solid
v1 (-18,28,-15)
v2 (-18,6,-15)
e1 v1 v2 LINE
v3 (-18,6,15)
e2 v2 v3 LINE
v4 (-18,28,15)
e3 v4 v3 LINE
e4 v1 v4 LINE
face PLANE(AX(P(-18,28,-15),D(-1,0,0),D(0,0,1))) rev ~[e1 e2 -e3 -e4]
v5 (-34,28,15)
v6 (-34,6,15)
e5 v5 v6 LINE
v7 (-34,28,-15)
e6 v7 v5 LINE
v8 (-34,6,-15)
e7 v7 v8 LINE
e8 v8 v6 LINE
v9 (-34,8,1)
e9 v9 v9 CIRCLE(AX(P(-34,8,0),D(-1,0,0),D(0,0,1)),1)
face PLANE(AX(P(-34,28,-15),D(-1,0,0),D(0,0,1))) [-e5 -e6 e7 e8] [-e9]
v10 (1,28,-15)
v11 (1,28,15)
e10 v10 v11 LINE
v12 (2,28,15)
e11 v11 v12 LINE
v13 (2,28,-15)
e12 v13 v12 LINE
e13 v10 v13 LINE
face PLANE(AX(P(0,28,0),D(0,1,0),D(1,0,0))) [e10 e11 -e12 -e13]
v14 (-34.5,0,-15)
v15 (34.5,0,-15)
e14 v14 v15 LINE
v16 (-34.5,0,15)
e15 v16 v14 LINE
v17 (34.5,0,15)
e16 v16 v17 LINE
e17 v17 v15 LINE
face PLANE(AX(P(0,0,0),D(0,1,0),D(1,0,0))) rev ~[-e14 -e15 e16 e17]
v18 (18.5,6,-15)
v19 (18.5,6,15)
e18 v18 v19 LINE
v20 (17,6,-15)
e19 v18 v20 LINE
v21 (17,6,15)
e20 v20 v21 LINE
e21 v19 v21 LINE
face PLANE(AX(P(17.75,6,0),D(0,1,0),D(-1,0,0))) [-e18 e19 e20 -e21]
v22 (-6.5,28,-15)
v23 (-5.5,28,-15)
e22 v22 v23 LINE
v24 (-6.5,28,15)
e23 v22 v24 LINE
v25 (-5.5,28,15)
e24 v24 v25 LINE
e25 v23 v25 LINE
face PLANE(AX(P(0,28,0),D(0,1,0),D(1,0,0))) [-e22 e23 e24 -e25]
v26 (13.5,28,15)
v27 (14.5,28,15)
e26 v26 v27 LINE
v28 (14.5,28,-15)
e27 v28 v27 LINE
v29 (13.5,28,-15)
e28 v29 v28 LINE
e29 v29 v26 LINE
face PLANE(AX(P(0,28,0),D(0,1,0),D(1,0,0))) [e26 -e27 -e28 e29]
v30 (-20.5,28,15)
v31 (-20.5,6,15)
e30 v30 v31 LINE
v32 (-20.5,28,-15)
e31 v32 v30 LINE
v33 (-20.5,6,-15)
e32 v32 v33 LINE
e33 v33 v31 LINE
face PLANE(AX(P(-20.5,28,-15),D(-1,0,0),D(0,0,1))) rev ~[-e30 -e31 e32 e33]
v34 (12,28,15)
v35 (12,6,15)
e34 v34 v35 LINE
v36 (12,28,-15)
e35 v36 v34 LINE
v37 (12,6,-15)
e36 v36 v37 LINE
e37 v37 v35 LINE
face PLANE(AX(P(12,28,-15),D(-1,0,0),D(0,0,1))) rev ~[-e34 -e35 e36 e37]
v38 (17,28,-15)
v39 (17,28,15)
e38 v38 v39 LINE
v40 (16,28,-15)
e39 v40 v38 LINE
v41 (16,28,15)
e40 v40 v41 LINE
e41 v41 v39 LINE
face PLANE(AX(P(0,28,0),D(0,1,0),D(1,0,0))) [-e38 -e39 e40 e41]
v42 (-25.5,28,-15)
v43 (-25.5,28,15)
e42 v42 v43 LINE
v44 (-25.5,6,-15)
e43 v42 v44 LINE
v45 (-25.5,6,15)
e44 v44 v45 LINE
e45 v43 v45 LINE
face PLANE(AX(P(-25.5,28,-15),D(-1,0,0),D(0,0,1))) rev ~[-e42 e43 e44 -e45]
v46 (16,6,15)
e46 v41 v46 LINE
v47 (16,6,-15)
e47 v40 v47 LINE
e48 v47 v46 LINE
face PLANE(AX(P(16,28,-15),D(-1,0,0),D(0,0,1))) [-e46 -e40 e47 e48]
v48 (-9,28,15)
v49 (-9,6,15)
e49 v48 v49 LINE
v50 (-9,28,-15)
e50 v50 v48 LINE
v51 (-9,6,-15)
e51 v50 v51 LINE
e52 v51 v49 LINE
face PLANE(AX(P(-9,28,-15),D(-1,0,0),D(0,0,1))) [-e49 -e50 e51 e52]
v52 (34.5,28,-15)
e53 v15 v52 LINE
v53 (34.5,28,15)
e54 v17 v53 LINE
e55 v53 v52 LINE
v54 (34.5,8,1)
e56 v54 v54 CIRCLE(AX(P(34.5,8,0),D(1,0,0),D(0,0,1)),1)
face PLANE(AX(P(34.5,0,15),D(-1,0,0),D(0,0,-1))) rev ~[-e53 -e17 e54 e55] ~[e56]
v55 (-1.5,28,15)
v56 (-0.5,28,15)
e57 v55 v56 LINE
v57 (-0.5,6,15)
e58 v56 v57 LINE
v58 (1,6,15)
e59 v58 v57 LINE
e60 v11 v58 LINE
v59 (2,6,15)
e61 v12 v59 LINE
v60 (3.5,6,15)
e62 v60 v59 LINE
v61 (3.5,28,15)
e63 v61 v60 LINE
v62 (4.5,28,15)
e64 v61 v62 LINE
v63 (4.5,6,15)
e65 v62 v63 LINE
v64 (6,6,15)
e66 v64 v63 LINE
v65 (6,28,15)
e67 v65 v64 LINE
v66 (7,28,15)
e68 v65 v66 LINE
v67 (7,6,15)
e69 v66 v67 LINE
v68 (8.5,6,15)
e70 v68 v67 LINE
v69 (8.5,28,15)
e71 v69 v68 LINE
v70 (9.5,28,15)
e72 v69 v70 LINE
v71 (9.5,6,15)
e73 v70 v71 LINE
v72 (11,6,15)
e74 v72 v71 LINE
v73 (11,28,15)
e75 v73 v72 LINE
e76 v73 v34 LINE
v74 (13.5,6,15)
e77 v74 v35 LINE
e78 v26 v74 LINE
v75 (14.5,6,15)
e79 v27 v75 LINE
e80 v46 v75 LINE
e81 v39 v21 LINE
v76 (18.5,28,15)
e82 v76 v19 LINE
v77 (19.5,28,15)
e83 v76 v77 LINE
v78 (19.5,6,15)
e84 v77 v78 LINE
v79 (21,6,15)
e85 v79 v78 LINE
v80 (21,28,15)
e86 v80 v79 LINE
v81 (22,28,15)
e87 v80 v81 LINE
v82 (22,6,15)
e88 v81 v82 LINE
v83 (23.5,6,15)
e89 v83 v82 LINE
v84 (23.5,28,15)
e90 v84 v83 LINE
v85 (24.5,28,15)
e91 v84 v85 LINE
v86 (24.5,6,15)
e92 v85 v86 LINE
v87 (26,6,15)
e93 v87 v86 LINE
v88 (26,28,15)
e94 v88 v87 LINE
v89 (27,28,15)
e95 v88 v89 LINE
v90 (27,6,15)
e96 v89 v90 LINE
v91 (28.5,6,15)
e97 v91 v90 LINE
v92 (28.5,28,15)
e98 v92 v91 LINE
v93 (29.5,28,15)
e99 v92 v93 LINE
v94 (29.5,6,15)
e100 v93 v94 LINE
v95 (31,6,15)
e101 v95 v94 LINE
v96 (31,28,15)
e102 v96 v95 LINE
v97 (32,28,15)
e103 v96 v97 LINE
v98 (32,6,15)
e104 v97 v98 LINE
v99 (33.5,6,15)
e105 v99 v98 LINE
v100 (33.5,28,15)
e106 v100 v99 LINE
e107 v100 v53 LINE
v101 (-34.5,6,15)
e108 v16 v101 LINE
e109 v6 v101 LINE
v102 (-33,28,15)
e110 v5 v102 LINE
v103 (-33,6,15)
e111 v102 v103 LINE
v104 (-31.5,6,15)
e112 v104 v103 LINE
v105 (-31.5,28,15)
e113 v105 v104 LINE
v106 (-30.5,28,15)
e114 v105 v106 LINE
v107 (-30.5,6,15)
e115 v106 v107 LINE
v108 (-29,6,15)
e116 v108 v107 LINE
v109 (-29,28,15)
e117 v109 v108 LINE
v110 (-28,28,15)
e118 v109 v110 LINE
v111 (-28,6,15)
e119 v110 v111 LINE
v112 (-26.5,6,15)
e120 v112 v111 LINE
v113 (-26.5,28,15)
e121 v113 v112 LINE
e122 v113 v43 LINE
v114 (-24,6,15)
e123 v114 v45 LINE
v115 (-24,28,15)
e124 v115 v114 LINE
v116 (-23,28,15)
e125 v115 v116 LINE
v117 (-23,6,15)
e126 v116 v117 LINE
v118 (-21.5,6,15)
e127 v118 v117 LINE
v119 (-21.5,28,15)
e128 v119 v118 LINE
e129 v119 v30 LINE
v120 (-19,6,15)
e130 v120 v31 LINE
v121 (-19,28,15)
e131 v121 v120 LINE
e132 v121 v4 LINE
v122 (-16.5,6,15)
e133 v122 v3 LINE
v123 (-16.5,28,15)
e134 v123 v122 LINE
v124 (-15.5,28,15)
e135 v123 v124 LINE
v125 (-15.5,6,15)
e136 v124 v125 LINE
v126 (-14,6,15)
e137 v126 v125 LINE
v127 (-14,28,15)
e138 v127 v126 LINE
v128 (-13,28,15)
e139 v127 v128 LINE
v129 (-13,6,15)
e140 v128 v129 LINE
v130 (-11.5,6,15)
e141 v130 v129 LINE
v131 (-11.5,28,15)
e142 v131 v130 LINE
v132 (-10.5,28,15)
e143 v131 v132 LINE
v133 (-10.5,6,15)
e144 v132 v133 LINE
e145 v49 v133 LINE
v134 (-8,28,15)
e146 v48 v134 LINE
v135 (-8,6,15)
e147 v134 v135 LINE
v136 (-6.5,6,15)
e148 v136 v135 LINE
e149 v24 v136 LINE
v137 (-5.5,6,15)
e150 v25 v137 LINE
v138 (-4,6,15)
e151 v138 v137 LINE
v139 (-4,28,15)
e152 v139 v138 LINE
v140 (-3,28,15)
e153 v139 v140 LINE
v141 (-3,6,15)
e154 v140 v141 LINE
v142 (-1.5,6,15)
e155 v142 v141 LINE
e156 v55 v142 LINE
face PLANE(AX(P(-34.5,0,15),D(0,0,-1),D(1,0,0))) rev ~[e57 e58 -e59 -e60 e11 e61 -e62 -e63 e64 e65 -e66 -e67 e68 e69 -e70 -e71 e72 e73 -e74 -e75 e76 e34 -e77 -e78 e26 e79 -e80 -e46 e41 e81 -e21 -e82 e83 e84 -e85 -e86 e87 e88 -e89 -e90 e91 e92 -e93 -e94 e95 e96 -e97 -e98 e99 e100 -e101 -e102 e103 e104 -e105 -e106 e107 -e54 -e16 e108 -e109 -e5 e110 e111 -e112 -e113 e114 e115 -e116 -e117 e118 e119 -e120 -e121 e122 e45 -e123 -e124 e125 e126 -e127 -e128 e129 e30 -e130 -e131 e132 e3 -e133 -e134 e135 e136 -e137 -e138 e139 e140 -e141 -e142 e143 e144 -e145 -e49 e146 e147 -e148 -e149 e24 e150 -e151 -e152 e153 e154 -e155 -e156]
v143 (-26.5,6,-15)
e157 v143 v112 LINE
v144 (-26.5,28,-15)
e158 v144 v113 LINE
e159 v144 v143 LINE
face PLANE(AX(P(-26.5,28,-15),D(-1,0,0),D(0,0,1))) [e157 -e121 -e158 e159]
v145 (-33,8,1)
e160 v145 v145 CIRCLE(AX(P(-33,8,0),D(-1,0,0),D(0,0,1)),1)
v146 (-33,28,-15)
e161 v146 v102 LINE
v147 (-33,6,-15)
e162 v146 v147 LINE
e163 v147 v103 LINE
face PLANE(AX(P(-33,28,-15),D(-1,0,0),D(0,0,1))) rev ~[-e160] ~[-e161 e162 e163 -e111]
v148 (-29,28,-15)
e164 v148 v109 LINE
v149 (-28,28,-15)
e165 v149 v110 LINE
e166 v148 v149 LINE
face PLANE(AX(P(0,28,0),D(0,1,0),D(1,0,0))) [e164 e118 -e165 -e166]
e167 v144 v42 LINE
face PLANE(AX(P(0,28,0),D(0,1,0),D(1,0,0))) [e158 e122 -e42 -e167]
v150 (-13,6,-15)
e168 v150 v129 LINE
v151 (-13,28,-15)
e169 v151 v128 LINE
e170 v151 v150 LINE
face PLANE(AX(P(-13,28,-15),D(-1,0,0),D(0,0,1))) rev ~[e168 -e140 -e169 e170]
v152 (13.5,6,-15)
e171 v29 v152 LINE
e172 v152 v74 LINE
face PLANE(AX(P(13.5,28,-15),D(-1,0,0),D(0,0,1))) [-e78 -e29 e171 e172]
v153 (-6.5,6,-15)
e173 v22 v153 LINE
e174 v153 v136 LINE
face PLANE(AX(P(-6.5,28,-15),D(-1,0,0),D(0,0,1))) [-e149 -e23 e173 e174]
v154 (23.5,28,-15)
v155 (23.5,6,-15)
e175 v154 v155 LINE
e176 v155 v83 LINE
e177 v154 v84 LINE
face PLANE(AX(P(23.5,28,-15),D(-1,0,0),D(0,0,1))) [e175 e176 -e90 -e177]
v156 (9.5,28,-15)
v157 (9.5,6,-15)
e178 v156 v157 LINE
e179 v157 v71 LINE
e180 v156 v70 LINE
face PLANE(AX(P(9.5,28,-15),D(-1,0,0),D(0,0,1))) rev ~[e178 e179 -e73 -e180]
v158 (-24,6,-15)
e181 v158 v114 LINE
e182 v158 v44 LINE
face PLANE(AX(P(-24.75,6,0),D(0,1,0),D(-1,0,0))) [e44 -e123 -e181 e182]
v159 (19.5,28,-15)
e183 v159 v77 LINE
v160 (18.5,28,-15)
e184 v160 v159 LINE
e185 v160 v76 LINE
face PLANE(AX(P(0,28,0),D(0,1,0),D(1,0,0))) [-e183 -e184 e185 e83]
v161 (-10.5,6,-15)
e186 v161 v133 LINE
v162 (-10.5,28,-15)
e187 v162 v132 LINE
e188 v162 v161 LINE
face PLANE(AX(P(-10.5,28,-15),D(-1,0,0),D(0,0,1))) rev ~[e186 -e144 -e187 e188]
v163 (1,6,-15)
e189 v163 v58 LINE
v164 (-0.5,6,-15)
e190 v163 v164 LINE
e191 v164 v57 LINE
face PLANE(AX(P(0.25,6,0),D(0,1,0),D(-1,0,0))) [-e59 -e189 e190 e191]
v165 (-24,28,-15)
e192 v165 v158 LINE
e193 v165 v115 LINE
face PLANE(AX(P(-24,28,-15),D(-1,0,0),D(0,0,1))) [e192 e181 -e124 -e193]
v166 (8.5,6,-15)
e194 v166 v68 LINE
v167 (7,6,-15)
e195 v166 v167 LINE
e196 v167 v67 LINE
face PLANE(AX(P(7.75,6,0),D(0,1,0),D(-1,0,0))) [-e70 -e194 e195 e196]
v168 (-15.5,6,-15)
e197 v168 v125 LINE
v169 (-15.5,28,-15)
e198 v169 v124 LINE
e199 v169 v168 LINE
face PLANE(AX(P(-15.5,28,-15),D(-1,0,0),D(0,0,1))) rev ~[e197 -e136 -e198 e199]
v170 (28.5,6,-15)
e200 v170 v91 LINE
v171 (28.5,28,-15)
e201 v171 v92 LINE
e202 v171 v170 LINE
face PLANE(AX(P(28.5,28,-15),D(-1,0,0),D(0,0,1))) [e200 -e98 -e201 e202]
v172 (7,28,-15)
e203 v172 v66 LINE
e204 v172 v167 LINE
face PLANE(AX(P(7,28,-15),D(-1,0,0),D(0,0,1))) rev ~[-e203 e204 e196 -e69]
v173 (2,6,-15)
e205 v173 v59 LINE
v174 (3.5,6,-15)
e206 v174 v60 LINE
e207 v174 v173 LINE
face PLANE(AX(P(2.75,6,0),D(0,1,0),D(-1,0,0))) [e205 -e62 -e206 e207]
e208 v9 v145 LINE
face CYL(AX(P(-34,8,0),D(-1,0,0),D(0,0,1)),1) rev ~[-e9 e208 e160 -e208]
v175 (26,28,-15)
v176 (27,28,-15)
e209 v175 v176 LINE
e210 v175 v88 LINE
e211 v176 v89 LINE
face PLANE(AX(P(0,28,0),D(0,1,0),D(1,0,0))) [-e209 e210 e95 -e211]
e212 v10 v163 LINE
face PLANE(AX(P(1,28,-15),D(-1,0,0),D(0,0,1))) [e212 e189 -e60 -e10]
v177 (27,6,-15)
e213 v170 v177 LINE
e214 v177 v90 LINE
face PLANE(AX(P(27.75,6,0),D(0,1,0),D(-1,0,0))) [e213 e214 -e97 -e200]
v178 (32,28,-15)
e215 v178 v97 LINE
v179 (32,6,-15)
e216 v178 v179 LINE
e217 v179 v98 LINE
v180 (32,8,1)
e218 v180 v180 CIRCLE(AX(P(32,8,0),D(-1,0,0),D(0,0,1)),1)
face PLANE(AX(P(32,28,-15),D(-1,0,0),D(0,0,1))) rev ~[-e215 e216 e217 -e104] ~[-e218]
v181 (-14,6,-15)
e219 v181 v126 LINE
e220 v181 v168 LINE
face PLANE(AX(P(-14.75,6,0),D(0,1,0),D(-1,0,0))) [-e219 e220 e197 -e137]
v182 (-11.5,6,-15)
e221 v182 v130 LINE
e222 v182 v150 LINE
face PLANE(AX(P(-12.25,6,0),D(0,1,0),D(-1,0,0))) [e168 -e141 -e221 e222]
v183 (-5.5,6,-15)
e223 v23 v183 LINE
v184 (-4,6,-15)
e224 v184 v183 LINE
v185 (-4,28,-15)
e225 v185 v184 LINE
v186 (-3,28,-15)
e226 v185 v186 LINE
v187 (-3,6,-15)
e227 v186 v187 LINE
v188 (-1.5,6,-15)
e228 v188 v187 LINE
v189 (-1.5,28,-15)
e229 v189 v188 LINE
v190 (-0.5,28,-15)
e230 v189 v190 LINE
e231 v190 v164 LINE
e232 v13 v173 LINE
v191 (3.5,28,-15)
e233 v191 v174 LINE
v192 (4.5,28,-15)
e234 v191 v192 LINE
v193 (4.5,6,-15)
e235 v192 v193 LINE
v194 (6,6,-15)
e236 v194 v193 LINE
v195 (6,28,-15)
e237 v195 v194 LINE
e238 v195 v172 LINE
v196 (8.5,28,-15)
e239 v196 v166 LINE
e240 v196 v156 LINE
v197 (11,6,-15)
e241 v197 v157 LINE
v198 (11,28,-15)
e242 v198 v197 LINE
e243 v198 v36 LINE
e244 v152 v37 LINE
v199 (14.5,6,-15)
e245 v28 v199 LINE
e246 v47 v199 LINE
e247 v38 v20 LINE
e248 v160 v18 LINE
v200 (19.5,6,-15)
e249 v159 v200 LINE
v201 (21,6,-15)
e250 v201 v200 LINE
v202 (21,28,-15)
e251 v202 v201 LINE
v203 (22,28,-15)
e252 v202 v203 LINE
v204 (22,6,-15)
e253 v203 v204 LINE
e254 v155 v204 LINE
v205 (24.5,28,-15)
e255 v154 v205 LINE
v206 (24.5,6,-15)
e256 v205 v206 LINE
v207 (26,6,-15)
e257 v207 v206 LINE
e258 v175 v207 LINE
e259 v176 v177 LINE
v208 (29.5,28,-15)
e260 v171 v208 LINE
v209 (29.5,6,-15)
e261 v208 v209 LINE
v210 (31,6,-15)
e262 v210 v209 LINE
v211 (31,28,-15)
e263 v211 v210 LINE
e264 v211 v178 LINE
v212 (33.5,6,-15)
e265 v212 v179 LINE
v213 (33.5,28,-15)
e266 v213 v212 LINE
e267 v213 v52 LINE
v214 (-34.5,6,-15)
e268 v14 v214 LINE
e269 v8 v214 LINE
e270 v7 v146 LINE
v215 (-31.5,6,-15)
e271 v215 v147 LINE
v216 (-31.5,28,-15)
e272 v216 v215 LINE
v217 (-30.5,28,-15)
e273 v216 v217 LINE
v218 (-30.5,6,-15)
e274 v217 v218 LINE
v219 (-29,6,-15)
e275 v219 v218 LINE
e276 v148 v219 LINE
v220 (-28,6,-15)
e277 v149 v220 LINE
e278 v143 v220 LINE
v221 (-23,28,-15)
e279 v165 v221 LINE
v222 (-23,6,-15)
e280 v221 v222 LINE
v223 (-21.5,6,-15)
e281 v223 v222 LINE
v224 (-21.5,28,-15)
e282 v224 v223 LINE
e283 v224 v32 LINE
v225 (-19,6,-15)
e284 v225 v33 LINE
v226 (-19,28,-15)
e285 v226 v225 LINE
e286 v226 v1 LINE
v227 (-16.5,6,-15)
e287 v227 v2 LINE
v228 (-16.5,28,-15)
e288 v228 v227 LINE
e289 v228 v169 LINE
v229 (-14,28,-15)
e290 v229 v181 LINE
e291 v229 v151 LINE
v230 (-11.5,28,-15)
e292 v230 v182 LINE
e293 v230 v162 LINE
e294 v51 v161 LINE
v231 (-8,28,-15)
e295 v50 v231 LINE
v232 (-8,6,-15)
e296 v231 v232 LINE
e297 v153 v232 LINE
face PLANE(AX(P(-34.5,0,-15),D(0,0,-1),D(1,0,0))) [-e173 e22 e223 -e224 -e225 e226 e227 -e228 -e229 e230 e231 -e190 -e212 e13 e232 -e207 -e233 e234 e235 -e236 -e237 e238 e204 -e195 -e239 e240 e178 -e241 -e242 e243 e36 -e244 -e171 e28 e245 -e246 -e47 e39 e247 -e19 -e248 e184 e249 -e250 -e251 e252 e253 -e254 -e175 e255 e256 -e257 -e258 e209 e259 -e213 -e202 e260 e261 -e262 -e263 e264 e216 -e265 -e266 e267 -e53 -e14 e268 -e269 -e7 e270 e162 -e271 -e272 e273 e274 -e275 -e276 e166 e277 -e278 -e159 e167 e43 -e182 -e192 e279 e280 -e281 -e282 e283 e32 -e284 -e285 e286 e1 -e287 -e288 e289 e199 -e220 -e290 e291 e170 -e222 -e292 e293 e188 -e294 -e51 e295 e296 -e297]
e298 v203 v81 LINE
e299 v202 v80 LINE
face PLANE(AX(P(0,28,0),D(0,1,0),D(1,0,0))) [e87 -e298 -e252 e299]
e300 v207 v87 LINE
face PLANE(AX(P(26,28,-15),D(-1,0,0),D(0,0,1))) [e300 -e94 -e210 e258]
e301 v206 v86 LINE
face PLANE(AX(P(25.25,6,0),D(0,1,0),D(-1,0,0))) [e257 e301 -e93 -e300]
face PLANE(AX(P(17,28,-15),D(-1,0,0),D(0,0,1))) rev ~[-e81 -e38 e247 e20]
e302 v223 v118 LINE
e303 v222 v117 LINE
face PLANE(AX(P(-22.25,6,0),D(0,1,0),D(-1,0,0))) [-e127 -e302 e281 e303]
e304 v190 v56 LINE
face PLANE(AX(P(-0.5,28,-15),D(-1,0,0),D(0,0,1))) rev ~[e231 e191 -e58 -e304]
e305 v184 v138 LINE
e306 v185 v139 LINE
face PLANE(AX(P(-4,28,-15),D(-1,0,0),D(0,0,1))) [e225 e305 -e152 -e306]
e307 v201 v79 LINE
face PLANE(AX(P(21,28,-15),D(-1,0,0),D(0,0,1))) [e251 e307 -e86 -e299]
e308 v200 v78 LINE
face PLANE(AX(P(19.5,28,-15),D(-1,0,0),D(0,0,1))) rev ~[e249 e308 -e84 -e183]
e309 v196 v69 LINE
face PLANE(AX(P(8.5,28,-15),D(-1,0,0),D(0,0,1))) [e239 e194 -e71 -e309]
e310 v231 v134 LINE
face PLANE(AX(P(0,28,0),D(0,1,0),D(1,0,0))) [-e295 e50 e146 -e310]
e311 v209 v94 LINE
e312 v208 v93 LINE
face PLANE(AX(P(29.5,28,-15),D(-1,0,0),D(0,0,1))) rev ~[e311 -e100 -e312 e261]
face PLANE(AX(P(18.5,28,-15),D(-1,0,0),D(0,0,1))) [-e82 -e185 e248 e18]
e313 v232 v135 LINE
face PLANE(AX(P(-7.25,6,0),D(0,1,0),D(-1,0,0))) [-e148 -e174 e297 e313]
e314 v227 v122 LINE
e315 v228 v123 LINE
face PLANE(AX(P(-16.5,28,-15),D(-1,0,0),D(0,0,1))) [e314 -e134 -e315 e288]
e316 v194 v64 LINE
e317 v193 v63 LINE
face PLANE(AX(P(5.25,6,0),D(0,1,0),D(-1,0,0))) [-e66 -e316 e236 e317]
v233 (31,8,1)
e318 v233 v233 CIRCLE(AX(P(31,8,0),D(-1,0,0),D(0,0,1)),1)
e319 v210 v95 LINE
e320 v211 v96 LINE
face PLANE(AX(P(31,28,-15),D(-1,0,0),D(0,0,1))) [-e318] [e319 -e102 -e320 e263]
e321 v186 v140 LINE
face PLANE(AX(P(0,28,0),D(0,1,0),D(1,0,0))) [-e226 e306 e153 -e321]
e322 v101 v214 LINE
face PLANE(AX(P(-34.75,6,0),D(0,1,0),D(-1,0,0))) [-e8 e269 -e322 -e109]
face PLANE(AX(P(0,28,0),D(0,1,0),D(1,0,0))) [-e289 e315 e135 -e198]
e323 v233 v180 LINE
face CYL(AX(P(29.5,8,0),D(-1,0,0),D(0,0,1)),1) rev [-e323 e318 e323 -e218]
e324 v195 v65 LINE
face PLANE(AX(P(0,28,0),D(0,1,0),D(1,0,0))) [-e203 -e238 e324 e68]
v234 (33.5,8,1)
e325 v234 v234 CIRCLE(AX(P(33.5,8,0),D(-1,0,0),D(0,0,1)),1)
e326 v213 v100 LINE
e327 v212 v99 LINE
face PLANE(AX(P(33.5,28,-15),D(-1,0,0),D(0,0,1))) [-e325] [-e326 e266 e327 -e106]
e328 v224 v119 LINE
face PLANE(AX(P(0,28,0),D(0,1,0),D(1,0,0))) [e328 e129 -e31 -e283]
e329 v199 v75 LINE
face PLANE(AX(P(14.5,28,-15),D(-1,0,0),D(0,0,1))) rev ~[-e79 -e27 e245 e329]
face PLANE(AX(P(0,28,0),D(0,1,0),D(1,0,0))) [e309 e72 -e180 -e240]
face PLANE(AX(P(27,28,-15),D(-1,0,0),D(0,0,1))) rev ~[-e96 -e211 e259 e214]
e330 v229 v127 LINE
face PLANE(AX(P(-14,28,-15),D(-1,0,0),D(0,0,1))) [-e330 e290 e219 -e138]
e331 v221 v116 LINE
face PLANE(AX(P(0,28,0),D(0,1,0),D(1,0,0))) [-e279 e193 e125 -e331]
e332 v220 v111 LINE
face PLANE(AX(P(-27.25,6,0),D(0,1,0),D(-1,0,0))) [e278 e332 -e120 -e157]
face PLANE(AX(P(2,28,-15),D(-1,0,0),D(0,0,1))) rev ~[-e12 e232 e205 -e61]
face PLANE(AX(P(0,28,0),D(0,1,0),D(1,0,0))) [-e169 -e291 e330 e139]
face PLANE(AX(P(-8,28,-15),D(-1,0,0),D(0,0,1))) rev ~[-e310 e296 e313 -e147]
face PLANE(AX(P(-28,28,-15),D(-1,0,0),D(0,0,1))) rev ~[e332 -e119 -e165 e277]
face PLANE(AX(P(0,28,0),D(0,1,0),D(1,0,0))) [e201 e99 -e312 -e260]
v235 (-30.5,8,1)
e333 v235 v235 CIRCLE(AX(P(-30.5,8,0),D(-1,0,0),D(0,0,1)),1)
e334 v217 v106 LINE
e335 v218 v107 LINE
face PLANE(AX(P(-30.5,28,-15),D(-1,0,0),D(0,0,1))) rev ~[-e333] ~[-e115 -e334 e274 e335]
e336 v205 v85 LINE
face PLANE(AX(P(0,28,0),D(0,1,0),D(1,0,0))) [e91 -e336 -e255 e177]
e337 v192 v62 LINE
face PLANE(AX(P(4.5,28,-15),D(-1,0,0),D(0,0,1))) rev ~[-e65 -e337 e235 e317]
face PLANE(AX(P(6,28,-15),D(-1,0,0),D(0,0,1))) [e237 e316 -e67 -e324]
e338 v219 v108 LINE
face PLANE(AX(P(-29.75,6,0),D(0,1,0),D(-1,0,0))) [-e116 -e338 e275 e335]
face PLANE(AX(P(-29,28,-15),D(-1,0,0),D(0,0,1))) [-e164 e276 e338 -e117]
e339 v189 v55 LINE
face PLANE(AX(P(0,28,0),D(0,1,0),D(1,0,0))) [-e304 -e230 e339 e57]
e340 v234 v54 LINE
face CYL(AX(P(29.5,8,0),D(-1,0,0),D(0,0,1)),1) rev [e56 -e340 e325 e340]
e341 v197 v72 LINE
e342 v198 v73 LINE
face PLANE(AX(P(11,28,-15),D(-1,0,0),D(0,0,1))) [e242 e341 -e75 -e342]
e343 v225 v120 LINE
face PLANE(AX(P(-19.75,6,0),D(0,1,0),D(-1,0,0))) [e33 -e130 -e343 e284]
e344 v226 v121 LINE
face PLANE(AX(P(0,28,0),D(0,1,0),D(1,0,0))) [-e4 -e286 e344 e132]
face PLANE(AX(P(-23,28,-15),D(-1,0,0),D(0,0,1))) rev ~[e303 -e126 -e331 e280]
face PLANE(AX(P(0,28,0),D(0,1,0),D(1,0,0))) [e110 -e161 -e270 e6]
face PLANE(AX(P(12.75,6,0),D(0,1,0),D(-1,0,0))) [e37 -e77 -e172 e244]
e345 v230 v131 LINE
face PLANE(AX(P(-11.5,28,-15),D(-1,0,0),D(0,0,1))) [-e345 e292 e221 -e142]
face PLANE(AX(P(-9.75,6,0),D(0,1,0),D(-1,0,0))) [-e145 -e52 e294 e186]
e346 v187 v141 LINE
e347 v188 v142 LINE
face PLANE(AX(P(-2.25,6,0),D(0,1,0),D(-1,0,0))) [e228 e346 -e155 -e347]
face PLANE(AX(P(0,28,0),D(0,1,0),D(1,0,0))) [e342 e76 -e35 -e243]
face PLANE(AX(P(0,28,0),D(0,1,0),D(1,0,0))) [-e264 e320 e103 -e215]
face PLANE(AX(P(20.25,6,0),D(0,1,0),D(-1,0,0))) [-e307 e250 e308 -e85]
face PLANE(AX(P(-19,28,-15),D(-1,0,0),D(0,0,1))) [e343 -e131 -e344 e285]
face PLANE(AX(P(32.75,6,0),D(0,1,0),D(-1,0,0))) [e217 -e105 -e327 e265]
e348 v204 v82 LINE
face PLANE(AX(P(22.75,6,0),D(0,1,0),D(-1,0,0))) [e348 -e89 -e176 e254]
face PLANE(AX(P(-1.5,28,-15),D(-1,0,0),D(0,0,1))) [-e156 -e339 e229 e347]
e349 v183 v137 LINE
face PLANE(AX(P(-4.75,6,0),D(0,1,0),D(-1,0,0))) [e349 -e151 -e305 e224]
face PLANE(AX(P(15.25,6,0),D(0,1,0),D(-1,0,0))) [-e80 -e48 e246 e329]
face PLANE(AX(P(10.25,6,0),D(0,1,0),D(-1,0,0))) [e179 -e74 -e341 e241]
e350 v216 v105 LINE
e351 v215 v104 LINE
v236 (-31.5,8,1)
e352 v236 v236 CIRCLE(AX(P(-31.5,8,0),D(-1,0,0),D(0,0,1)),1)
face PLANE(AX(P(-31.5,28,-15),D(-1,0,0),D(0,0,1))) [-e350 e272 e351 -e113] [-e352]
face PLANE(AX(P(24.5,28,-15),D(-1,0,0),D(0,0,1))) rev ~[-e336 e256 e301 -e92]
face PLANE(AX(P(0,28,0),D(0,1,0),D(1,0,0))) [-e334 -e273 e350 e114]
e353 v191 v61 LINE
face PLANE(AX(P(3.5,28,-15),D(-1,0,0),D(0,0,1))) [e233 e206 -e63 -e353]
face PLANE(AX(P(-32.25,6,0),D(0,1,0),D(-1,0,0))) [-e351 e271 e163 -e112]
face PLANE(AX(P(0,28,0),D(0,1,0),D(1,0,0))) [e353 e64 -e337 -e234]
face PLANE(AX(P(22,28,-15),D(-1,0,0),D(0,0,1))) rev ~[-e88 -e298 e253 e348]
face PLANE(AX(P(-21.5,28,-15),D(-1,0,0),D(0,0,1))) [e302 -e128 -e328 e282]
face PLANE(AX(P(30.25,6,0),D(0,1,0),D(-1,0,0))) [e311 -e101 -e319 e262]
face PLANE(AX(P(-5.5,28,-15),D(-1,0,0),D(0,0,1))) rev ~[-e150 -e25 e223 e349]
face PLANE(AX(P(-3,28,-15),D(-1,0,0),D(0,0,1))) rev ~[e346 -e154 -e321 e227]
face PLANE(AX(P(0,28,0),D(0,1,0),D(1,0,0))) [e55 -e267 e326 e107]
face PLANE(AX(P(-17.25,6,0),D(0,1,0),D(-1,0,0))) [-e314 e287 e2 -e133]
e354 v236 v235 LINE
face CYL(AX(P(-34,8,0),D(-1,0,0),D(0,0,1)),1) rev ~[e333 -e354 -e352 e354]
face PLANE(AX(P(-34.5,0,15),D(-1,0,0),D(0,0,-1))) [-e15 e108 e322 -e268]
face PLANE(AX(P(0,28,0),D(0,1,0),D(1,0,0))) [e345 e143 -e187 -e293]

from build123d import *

# Parameters (mm, degrees)
SKETCH_1_W          = 69
SKETCH_1_H          = 30
EXTRUDE_1_DEPTH     = 28
SKETCH_2_W          = 1.5
SKETCH_2_H          = 30
CUT_EXTRUDE_1_DEPTH = 22
SKETCH_3_R          = 1
CUT_EXTRUDE_2_DEPTH = 5
CUT_EXTRUDE_START   = -5
SKETCH_4_R          = 1
CUT_EXTRUDE_3_DEPTH = 5


with BuildPart() as part:
    # 草图1 → 拉伸1 (new body)
    with BuildSketch(Plane(origin=(0, 0, 0), x_dir=(1, 0, 0), z_dir=(0, 1, 0))):
        Rectangle(SKETCH_1_W, SKETCH_1_H)
    extrude(amount=EXTRUDE_1_DEPTH)

    # 草图2 → 切除-拉伸1 (cut)
    with BuildSketch(Plane(origin=(0, 28, 0), x_dir=(-1, 0, 0), z_dir=(0, 1, 0))):
        with Locations((-0.25, 0)):
            Rectangle(SKETCH_2_W, SKETCH_2_H)
        with Locations((2.25, 0)):
            Rectangle(SKETCH_2_W, SKETCH_2_H)
        with Locations((4.75, 0)):
            Rectangle(SKETCH_2_W, SKETCH_2_H)
        with Locations((7.25, 0)):
            Rectangle(SKETCH_2_W, SKETCH_2_H)
        with Locations((9.75, 0)):
            Rectangle(SKETCH_2_W, SKETCH_2_H)
        with Locations((12.25, 0)):
            Rectangle(SKETCH_2_W, SKETCH_2_H)
        with Locations((14.75, 0)):
            Rectangle(SKETCH_2_W, SKETCH_2_H)
        with Locations((17.25, 0)):
            Rectangle(SKETCH_2_W, SKETCH_2_H)
        with Locations((19.75, 0)):
            Rectangle(SKETCH_2_W, SKETCH_2_H)
        with Locations((22.25, 0)):
            Rectangle(SKETCH_2_W, SKETCH_2_H)
        with Locations((24.75, 0)):
            Rectangle(SKETCH_2_W, SKETCH_2_H)
        with Locations((27.25, 0)):
            Rectangle(SKETCH_2_W, SKETCH_2_H)
        with Locations((29.75, 0)):
            Rectangle(SKETCH_2_W, SKETCH_2_H)
        with Locations((32.25, 0)):
            Rectangle(SKETCH_2_W, SKETCH_2_H)
        with Locations((34.75, 0)):
            Rectangle(SKETCH_2_W, SKETCH_2_H)
        with Locations((-2.75, 0)):
            Rectangle(SKETCH_2_W, SKETCH_2_H)
        with Locations((-5.25, 0)):
            Rectangle(SKETCH_2_W, SKETCH_2_H)
        with Locations((-7.75, 0)):
            Rectangle(SKETCH_2_W, SKETCH_2_H)
        with Locations((-10.25, 0)):
            Rectangle(SKETCH_2_W, SKETCH_2_H)
        with Locations((-12.75, 0)):
            Rectangle(SKETCH_2_W, SKETCH_2_H)
        with Locations((-15.25, 0)):
            Rectangle(SKETCH_2_W, SKETCH_2_H)
        with Locations((-17.75, 0)):
            Rectangle(SKETCH_2_W, SKETCH_2_H)
        with Locations((-20.25, 0)):
            Rectangle(SKETCH_2_W, SKETCH_2_H)
        with Locations((-22.75, 0)):
            Rectangle(SKETCH_2_W, SKETCH_2_H)
        with Locations((-25.25, 0)):
            Rectangle(SKETCH_2_W, SKETCH_2_H)
        with Locations((-27.75, 0)):
            Rectangle(SKETCH_2_W, SKETCH_2_H)
        with Locations((-30.25, 0)):
            Rectangle(SKETCH_2_W, SKETCH_2_H)
        with Locations((-32.75, 0)):
            Rectangle(SKETCH_2_W, SKETCH_2_H)
    extrude(amount=-CUT_EXTRUDE_1_DEPTH, mode=Mode.SUBTRACT)

    # 草图3 → 切除-拉伸2 (cut)
    with BuildSketch(Plane.ZY.offset(34)):
        with Locations((0, 8)):
            Circle(SKETCH_3_R)
    extrude(amount=-CUT_EXTRUDE_2_DEPTH, mode=Mode.SUBTRACT)

    # 草图4 → 切除-拉伸3 (cut)
    with BuildSketch(Plane(origin=(34.5, 0, 0), x_dir=(0, 0, -1), z_dir=(1, 0, 0)).offset(CUT_EXTRUDE_START)):
        with Locations(Location((0, 8, 0), (0, 0, 180))):
            Circle(SKETCH_4_R)
    extrude(amount=CUT_EXTRUDE_3_DEPTH, mode=Mode.SUBTRACT)


solid = part.part
